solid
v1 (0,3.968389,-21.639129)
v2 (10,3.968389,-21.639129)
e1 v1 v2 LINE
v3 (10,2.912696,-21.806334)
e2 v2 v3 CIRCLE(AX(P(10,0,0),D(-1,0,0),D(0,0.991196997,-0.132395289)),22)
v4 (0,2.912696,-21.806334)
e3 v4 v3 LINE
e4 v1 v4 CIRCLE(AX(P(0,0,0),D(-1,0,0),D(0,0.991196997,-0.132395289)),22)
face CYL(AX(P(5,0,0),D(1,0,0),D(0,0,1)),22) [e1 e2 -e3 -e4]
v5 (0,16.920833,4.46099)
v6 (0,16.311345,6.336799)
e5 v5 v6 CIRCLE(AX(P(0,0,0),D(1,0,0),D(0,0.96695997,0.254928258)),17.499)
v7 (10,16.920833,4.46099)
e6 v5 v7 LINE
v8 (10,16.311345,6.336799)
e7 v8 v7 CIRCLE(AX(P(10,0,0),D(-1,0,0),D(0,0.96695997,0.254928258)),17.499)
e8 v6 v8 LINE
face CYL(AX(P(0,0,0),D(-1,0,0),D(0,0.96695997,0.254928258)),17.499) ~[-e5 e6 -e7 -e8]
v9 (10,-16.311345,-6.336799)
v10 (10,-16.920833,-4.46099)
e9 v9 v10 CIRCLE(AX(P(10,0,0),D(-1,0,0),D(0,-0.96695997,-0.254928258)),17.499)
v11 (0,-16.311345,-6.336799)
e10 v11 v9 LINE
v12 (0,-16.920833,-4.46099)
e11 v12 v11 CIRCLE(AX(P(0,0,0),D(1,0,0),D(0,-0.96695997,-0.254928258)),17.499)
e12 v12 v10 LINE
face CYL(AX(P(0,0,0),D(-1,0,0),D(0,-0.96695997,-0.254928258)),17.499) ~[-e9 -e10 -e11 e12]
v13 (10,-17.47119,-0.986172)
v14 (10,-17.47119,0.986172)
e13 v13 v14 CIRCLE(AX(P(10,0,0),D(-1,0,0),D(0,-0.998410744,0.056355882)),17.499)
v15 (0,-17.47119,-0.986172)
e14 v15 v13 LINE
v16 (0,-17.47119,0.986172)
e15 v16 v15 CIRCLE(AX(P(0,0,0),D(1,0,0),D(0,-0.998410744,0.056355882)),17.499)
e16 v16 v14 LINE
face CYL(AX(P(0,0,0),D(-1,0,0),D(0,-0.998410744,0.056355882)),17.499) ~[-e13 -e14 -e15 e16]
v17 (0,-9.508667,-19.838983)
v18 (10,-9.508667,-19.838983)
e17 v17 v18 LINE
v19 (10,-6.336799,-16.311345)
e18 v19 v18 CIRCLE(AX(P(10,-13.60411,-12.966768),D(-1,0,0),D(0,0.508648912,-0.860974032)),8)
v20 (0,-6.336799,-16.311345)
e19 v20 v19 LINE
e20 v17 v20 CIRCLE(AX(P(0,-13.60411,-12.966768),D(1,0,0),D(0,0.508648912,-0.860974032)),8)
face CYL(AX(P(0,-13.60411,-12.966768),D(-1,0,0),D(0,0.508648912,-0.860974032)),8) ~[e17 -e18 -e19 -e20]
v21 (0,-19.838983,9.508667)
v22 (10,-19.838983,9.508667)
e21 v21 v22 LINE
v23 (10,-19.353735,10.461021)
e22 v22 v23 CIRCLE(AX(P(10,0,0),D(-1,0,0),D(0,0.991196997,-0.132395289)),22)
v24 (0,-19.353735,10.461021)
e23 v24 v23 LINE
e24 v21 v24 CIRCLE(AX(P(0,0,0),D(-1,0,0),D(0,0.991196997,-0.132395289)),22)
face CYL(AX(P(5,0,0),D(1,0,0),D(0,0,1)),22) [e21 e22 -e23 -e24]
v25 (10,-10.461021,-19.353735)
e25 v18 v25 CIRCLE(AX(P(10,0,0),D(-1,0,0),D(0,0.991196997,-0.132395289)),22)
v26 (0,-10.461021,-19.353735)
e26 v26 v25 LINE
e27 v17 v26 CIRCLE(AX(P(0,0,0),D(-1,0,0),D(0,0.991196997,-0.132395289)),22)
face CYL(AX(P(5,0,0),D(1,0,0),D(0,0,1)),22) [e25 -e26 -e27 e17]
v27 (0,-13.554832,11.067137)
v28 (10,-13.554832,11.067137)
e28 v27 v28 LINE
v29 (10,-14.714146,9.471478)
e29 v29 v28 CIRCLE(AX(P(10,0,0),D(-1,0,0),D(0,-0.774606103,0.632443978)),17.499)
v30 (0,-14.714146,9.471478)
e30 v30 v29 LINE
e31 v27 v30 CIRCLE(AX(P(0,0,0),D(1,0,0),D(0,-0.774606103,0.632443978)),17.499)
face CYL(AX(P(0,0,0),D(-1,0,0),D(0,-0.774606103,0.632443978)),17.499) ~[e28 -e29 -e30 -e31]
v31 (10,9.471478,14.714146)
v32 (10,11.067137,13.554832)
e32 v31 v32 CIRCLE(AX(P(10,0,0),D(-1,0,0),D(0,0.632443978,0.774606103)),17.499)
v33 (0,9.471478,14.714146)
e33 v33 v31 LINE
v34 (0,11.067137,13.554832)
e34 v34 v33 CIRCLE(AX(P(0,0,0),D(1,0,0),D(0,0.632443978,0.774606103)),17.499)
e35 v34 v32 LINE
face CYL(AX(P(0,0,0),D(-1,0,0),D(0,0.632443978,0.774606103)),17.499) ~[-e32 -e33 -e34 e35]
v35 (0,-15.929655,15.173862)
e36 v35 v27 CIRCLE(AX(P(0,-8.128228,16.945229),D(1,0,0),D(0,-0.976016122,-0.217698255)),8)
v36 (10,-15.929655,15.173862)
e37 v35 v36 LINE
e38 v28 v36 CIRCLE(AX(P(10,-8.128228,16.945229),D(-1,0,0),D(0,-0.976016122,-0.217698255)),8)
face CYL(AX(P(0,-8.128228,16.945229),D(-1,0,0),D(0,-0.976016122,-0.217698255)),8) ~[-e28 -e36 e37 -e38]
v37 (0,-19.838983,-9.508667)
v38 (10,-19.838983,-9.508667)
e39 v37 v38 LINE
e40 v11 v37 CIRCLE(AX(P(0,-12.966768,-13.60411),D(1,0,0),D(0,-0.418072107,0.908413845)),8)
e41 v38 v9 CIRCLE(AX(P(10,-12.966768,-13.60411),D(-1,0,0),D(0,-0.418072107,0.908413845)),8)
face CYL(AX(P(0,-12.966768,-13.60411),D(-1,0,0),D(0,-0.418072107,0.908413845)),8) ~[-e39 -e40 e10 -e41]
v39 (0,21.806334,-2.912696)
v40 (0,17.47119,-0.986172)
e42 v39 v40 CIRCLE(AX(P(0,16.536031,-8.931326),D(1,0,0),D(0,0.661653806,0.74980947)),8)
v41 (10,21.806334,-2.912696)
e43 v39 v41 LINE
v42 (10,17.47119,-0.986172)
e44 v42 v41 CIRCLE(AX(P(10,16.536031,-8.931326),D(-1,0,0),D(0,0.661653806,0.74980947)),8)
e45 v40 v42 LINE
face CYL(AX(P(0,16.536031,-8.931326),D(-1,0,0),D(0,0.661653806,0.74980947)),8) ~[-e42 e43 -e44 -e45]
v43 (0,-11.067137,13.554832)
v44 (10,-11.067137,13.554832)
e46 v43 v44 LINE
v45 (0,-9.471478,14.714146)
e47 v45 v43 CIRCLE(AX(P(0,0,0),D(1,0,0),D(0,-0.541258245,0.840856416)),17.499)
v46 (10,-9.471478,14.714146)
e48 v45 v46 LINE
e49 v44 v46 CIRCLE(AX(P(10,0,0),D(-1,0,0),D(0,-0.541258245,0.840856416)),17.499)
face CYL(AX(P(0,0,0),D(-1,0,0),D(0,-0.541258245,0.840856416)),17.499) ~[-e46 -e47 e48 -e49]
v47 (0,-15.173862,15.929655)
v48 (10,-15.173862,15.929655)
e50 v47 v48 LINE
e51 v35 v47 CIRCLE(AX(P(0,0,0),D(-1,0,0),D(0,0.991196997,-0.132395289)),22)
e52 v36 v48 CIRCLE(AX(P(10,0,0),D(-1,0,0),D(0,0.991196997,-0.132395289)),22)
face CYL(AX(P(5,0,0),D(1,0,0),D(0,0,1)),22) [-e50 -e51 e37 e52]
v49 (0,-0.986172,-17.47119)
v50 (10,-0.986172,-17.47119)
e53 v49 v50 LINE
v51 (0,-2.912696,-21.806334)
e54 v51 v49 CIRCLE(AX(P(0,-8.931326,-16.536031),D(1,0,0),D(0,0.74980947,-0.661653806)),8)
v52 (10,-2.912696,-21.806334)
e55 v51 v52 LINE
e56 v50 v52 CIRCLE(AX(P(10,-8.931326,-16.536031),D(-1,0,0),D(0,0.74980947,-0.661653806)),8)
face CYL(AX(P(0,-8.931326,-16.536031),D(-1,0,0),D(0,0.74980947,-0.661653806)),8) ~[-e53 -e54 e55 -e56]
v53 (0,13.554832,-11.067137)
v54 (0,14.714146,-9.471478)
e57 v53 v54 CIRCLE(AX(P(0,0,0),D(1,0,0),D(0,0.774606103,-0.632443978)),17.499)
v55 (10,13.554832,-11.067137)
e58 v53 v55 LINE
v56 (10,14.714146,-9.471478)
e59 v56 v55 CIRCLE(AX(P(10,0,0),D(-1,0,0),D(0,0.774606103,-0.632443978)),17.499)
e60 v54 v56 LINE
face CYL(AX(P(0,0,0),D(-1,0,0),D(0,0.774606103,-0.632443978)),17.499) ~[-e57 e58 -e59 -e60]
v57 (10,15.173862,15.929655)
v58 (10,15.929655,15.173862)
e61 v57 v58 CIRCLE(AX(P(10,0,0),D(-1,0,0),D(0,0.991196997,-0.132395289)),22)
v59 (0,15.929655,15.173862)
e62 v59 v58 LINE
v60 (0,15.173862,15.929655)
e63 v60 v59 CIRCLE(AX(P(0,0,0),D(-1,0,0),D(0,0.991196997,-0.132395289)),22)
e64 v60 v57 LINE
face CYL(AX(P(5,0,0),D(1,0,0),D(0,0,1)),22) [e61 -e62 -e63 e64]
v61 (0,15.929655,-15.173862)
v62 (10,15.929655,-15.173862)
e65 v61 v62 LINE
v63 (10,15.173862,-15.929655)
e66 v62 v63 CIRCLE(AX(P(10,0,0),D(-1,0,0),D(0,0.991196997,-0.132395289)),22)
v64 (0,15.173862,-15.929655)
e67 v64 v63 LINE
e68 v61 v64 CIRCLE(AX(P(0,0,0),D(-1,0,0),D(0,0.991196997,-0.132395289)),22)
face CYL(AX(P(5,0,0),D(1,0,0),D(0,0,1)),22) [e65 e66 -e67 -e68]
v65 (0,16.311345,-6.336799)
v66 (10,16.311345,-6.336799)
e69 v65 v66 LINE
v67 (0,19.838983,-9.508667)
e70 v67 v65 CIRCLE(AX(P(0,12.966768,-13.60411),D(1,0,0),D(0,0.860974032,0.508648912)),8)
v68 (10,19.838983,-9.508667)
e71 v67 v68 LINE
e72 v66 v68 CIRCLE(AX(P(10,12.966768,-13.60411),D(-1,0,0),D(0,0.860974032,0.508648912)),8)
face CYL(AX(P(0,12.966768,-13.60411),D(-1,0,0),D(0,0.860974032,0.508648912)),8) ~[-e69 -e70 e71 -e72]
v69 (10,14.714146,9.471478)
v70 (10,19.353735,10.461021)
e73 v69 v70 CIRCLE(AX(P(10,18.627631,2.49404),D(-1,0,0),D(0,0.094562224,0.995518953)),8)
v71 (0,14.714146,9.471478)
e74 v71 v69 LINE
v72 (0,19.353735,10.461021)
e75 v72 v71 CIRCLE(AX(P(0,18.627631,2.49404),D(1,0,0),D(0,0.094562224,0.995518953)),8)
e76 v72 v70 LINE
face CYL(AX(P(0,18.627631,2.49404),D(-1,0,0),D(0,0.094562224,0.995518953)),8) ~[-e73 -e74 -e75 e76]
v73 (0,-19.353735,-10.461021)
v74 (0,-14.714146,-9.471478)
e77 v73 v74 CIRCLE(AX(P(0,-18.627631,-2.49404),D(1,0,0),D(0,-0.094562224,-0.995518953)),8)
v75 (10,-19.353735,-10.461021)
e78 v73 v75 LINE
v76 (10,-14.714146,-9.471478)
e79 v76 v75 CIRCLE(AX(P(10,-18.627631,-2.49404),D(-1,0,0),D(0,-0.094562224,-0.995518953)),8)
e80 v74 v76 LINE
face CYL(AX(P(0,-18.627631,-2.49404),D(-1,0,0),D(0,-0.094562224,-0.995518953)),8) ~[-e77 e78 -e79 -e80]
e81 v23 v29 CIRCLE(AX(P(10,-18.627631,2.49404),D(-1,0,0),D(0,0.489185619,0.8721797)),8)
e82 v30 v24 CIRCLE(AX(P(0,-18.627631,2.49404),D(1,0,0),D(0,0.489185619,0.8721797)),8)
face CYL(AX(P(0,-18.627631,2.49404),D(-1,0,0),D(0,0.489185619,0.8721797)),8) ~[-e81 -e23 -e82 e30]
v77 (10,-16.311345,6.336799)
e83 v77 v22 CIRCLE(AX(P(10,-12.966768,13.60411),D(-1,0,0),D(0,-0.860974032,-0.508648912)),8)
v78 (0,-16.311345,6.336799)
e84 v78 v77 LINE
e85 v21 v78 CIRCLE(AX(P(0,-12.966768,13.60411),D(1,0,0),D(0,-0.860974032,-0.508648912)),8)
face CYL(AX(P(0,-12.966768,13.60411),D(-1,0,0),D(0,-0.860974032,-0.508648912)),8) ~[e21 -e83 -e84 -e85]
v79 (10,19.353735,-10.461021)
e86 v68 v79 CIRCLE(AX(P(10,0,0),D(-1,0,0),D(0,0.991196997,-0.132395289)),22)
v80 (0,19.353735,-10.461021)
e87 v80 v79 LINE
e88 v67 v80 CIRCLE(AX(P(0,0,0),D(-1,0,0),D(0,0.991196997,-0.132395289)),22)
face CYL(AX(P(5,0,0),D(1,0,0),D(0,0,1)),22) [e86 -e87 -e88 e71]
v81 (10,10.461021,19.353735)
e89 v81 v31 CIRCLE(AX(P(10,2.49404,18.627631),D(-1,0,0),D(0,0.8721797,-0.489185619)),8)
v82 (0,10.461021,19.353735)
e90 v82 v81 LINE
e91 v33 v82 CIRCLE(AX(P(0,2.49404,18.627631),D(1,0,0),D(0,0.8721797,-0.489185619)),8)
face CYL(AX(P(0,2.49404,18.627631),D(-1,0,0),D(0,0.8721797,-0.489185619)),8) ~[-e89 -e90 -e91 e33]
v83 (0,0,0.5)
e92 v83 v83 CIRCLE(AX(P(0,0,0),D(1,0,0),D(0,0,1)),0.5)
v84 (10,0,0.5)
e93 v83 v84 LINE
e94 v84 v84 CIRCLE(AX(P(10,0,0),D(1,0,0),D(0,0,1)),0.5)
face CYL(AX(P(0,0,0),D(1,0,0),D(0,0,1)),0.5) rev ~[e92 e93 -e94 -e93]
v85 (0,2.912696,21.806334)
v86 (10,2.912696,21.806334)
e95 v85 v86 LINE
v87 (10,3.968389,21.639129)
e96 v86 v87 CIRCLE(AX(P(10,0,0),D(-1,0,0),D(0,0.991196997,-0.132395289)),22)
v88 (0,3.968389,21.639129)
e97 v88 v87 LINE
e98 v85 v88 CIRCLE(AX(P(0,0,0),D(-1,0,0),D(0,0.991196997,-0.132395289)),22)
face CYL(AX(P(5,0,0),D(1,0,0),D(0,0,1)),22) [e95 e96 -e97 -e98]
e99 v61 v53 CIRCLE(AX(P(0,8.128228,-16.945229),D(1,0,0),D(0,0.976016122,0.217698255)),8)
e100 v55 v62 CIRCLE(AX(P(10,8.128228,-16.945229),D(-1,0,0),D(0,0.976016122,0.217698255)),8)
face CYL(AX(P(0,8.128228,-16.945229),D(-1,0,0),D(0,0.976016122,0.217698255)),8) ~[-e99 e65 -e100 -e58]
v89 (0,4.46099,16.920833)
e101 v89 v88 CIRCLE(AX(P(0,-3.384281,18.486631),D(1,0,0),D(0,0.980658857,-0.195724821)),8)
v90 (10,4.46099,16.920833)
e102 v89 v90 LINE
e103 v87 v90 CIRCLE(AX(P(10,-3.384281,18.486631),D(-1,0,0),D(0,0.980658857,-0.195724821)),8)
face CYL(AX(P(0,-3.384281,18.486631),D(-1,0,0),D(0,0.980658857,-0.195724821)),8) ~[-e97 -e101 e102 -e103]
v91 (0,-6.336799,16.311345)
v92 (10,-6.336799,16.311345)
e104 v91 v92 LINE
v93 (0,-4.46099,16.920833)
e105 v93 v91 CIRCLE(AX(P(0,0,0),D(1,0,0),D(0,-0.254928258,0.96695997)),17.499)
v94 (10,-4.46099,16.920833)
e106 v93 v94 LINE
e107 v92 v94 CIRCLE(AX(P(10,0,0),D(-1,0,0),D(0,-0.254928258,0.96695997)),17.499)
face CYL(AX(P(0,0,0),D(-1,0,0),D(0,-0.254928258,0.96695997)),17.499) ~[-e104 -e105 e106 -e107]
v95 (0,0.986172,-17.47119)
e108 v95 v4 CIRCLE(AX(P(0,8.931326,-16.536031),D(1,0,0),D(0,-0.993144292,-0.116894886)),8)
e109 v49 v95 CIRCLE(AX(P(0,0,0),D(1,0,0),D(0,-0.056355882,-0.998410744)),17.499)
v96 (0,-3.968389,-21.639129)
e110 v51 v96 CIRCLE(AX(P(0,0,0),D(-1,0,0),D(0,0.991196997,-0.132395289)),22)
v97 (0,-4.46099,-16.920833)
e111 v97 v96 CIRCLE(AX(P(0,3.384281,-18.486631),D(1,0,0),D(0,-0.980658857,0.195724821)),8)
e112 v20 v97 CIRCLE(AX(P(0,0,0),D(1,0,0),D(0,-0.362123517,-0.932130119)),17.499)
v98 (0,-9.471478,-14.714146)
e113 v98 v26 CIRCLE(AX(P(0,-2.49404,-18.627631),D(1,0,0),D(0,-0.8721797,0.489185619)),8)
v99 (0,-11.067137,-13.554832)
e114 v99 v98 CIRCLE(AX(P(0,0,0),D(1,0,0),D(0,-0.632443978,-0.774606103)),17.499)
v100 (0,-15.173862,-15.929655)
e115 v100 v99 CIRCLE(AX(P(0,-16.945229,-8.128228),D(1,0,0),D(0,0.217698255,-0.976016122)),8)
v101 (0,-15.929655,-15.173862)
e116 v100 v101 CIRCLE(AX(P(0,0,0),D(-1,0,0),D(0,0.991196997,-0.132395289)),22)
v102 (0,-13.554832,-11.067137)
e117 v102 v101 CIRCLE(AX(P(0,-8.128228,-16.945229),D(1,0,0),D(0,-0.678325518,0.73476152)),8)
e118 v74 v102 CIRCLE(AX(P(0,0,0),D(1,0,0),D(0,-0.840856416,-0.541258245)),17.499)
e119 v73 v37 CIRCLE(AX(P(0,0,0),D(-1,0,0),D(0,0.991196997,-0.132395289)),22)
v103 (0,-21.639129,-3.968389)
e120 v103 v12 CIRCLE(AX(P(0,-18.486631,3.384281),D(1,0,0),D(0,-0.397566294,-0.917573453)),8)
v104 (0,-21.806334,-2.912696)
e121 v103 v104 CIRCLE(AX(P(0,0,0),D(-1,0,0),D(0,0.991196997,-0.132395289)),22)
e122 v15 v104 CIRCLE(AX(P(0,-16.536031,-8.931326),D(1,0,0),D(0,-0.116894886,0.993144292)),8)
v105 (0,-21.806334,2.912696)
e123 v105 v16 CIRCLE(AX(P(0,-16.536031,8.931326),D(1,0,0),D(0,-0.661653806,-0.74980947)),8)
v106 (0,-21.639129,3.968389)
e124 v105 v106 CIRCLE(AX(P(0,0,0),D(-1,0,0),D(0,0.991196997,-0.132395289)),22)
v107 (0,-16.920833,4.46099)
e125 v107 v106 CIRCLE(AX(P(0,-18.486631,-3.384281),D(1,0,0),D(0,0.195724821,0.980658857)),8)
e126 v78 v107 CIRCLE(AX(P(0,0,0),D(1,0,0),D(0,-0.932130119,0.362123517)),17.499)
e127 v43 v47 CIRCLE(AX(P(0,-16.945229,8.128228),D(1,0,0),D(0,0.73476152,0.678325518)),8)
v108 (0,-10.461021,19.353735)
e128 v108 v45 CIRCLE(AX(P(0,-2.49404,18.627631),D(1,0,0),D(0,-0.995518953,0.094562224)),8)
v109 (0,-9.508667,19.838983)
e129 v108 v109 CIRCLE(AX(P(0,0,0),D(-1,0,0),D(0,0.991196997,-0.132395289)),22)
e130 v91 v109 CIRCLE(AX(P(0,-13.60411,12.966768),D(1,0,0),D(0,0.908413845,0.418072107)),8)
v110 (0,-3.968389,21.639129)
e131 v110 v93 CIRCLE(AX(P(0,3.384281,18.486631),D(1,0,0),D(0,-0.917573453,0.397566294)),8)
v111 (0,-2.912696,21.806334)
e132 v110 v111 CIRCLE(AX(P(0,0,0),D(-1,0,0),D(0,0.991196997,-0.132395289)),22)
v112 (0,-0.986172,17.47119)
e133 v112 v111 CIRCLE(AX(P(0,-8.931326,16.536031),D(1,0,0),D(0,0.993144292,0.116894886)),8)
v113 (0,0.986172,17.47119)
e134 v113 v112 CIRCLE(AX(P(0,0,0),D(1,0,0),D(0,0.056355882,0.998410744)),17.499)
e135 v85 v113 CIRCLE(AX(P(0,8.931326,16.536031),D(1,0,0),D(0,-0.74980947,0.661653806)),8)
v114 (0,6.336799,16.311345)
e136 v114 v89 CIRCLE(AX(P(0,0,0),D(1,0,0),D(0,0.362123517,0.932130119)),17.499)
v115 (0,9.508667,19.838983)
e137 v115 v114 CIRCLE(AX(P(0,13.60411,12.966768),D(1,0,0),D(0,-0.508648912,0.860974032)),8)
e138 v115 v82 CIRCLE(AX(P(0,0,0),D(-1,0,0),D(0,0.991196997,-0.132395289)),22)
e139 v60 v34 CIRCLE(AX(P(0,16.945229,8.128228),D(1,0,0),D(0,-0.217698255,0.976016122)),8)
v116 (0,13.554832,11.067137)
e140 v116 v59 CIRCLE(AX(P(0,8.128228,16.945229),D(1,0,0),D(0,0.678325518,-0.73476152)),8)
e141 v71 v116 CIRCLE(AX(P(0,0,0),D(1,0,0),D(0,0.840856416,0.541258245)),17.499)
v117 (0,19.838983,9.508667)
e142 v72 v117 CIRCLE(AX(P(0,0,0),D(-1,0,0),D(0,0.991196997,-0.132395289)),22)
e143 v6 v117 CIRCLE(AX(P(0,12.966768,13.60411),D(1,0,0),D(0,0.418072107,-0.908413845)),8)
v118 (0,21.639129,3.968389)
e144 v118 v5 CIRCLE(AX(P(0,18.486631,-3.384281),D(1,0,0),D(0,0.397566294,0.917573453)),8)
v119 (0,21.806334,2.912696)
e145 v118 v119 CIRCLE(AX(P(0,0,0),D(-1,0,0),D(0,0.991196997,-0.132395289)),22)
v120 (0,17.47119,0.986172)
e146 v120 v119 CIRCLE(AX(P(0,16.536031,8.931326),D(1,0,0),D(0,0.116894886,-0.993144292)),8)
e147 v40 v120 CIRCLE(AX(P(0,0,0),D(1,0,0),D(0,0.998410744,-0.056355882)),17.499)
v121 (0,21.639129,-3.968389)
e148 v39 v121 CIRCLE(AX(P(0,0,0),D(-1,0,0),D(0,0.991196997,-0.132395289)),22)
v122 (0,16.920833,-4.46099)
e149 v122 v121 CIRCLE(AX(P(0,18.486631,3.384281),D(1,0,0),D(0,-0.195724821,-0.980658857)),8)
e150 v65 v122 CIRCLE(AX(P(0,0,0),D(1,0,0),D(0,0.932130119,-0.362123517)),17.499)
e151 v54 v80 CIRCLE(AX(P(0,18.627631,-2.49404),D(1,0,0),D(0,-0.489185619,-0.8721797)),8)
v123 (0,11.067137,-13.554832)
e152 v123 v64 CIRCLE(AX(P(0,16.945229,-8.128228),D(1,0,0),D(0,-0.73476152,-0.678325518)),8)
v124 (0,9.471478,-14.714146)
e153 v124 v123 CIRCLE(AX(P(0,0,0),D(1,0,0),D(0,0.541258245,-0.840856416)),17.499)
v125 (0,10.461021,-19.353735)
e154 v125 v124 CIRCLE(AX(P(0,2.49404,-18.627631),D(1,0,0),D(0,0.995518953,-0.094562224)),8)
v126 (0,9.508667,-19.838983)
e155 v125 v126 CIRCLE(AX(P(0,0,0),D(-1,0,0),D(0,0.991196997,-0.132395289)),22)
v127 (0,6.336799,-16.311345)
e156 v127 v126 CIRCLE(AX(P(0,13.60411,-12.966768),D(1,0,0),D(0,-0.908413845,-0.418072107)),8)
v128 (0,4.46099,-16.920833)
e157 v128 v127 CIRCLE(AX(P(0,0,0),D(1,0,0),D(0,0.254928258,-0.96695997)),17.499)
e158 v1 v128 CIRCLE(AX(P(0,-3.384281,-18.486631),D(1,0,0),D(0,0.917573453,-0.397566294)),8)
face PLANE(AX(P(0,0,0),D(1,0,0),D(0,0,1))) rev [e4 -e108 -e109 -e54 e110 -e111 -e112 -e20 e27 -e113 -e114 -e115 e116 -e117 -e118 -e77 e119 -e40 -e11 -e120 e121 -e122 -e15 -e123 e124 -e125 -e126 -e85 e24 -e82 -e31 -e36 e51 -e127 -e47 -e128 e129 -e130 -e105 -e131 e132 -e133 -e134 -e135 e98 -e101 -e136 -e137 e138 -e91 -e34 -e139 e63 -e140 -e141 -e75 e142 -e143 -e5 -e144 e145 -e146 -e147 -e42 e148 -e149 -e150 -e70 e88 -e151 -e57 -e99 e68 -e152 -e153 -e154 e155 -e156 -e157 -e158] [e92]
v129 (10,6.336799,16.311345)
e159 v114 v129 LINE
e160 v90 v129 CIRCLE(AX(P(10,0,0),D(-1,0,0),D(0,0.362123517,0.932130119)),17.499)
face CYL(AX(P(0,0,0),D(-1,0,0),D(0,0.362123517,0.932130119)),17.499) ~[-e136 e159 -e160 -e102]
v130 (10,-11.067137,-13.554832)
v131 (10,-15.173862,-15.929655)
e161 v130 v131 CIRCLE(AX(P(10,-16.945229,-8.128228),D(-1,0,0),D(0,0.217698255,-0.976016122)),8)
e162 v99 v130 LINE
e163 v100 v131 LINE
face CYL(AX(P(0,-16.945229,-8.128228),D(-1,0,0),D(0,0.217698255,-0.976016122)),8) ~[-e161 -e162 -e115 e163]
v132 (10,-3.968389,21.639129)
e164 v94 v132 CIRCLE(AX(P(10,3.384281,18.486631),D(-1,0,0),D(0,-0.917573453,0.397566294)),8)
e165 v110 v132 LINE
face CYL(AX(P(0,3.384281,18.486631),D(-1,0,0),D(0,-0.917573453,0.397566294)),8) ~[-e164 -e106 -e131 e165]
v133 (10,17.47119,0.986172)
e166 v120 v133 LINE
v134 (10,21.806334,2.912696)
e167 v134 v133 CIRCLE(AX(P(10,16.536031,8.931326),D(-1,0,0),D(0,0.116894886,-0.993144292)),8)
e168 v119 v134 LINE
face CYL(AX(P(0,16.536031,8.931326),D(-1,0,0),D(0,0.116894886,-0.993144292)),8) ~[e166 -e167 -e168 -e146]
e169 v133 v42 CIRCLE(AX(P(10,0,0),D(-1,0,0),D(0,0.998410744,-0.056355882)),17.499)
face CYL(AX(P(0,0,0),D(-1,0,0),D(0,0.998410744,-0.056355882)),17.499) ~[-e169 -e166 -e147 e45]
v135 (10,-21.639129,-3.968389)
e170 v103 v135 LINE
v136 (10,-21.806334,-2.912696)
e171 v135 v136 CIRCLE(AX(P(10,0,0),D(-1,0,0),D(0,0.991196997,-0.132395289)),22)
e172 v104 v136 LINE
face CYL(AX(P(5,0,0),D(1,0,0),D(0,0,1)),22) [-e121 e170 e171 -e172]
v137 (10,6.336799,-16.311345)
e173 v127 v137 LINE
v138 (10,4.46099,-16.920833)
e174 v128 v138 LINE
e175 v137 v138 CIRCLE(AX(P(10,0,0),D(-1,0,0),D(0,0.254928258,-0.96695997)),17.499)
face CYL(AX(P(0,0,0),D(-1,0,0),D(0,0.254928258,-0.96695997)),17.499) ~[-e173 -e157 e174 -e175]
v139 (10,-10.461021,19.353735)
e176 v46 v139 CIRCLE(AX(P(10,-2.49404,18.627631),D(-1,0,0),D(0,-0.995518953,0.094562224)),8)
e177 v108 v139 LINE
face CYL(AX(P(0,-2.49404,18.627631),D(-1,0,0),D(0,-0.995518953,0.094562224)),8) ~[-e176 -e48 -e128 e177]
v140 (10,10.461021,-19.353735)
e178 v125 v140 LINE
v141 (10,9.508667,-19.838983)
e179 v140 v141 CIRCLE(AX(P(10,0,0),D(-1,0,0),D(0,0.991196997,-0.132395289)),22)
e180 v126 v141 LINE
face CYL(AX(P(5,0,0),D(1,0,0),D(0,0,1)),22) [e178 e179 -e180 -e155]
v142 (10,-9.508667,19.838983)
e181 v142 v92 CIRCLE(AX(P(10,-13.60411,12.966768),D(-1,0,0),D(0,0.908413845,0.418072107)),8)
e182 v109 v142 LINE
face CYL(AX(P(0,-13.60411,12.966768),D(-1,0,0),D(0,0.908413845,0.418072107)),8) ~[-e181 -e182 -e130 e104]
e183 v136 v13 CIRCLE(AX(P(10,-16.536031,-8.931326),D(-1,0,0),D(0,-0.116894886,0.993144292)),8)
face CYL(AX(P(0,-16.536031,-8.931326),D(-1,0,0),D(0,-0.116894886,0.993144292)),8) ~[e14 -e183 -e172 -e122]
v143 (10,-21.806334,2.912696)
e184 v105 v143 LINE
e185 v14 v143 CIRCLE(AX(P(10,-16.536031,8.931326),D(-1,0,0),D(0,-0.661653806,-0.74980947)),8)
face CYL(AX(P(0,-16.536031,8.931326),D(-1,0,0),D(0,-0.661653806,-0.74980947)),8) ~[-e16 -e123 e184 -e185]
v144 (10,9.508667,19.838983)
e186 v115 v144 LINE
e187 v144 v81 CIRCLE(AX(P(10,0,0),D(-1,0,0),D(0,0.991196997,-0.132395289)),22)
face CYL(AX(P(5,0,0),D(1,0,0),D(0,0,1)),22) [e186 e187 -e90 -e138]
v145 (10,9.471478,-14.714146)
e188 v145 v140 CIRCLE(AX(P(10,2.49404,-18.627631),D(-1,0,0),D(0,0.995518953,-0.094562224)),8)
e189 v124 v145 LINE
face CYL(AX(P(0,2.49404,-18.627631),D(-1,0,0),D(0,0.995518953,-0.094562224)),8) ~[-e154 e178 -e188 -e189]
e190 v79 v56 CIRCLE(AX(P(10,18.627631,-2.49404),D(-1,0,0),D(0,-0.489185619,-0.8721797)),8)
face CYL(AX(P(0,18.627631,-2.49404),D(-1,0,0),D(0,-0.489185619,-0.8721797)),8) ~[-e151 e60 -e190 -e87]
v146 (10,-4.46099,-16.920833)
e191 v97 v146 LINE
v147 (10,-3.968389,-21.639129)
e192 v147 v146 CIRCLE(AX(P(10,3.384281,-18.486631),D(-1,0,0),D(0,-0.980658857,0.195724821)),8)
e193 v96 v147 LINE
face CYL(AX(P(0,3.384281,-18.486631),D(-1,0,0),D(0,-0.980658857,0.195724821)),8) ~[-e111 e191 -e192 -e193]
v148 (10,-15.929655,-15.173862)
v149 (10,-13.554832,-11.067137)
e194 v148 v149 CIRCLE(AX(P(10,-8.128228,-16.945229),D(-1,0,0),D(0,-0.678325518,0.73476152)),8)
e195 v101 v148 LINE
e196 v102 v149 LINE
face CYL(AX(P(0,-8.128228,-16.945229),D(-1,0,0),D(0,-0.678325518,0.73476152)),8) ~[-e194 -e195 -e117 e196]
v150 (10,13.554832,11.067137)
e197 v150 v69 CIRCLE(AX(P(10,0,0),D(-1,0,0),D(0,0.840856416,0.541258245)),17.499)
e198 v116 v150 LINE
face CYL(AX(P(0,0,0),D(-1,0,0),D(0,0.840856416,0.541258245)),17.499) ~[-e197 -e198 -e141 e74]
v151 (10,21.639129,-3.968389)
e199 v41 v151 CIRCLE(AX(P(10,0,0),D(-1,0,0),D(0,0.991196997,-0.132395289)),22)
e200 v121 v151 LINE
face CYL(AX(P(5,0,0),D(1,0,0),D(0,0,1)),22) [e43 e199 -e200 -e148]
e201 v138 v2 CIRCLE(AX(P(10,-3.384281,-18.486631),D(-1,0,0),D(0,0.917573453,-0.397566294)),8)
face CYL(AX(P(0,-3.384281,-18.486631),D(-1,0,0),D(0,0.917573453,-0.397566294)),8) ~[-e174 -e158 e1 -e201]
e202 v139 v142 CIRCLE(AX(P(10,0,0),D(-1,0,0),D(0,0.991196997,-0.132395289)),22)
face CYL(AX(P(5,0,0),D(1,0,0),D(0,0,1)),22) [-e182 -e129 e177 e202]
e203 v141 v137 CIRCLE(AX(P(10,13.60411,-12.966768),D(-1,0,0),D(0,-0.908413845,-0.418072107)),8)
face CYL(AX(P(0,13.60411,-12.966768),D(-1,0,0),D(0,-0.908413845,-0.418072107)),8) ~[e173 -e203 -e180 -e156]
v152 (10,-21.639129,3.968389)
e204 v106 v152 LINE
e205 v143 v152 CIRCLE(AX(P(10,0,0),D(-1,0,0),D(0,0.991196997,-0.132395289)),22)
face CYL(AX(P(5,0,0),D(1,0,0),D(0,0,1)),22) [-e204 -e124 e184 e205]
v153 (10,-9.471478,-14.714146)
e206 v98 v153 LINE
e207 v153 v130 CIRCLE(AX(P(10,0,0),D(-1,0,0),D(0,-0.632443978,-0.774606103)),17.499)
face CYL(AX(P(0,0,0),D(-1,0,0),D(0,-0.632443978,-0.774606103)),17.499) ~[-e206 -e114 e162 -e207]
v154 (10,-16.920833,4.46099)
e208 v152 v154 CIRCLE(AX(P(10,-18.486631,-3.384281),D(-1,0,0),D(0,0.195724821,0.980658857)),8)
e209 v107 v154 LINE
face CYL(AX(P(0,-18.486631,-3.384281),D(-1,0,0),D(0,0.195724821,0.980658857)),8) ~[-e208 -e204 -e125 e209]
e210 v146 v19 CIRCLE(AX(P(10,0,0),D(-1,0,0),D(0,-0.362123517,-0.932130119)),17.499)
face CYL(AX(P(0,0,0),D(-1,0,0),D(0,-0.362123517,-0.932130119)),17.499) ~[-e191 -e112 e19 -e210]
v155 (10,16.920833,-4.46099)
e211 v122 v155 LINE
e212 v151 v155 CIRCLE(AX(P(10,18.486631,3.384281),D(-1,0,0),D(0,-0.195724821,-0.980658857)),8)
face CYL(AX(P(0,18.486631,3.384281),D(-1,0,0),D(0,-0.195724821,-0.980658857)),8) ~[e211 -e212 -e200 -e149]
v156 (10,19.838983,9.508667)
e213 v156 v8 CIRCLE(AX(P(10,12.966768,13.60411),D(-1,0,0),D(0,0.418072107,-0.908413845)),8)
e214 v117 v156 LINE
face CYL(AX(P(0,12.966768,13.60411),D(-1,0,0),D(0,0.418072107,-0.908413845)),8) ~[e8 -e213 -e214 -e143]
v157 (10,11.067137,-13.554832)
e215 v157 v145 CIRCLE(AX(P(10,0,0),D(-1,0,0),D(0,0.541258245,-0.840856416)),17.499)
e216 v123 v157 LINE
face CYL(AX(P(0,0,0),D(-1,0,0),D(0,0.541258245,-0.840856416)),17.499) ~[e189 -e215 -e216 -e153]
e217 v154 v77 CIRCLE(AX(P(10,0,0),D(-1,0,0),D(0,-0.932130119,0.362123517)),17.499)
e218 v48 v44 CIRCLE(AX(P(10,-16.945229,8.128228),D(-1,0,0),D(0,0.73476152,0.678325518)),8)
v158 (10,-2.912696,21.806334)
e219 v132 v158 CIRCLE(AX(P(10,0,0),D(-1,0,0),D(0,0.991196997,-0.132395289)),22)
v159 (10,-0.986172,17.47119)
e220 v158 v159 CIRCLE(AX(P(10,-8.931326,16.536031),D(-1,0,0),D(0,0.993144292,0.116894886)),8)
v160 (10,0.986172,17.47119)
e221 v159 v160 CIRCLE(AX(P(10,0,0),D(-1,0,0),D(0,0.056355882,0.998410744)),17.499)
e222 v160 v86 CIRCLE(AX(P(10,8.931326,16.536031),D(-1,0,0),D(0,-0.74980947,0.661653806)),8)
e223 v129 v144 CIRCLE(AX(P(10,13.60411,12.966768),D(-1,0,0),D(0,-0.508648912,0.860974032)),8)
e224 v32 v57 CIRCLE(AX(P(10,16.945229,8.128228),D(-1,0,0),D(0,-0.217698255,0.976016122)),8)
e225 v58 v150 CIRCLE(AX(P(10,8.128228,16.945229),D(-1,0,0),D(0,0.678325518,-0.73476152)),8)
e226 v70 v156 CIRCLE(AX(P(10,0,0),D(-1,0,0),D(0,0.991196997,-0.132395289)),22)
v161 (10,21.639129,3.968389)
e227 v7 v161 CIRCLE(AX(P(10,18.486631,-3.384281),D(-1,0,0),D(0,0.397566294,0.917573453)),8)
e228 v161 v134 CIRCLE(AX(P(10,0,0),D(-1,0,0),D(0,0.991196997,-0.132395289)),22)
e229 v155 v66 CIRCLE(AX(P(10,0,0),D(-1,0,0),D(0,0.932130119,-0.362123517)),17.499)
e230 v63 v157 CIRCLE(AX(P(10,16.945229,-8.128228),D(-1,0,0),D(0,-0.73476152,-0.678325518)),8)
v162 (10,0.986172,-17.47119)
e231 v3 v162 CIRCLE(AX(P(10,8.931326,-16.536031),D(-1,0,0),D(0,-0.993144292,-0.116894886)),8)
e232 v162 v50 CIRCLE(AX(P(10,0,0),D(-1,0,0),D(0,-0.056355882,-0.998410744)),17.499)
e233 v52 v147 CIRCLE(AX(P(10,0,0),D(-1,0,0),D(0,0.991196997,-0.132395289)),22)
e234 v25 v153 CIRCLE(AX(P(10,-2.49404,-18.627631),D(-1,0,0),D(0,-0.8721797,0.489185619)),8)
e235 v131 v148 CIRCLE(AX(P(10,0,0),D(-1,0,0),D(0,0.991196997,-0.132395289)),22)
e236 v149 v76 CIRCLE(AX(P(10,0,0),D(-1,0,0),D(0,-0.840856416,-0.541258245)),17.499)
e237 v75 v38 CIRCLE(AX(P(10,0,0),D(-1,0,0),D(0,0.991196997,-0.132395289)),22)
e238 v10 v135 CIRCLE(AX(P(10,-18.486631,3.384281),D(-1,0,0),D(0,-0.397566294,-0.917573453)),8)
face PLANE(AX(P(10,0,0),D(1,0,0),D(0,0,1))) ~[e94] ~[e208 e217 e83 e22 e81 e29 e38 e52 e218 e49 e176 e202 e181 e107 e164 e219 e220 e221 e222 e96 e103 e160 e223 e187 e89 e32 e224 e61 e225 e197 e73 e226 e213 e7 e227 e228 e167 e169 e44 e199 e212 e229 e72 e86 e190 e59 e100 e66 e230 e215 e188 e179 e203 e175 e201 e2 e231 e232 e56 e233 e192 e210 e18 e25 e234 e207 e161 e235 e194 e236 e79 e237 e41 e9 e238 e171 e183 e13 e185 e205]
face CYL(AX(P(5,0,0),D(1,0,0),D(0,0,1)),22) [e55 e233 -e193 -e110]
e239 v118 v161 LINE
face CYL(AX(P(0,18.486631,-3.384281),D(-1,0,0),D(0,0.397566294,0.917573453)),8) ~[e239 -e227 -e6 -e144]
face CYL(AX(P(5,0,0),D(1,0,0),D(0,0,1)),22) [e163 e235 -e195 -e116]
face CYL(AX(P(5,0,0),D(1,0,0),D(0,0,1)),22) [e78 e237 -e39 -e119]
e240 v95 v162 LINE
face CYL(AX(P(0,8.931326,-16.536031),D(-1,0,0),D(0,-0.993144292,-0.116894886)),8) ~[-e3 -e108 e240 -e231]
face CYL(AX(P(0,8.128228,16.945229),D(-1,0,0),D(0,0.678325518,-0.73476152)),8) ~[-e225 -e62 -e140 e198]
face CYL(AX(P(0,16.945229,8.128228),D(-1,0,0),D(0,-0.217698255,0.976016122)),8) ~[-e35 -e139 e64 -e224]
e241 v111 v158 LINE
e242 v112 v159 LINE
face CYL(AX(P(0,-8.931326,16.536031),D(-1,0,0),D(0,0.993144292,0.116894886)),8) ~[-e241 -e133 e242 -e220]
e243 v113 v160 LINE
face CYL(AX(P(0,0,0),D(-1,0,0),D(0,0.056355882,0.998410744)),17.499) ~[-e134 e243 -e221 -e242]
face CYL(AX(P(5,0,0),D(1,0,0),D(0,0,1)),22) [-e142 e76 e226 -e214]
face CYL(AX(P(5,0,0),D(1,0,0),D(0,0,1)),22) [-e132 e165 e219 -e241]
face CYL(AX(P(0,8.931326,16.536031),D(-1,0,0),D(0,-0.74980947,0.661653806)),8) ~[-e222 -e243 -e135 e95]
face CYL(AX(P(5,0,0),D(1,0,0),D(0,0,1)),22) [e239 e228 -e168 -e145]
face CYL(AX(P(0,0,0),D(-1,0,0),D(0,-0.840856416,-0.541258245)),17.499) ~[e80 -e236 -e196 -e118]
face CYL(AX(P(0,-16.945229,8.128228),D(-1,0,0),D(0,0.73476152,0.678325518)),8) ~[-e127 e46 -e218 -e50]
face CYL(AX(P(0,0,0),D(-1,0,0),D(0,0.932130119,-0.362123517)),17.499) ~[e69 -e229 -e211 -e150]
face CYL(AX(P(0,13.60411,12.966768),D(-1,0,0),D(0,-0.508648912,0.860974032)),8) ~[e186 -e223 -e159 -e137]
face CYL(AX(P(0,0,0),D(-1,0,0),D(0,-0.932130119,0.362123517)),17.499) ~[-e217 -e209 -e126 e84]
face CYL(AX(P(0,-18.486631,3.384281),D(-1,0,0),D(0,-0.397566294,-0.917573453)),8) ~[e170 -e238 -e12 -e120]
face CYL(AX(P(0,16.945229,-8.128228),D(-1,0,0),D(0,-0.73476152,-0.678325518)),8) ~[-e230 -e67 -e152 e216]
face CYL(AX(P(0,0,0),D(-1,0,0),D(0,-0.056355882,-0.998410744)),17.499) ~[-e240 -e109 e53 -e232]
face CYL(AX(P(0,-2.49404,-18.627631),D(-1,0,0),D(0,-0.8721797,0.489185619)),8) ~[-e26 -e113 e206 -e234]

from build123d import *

# Parameters (mm, degrees)
BASPROSKE_W     = 10
BASPROSKE_H     = 22
TOOTHCUT_DEPTH  = 33.680269277
TEETHCUTS_COUNT = 20
TEETHCUTS_ANGLE = 342
BORSKE_R        = 0.5
BORE_DEPTH      = 50.0000508


with BuildPart() as part:
    # BasProSke → Base-Revolve (revolve)
    with BuildSketch(Plane(origin=(0, 0, 0), x_dir=(1, 0, 0), z_dir=(0, 1, 0)), mode=Mode.PRIVATE) as base_revolve_sk:
        with Locations((5, 11)):
            Rectangle(BASPROSKE_W, BASPROSKE_H)
    revolve(base_revolve_sk.sketch.rotate(Axis((-10, 0, 0), (1, 0, 0)), 180), axis=Axis((-10, 0, 0), (1, 0, 0)))

    # TooCutSke → ToothCut (cut, through all)
    with BuildSketch(Plane(origin=(0, 0, 0), x_dir=(0, 0, -1), z_dir=(1, 0, 0))):
        with BuildLine():
            ThreePointArc((0.986171591, 17.471189616), (0, 17.499), (-0.986171591, 17.471189616))
            ThreePointArc((-0.986171591, 17.471189616), (-1.626916196, 19.798789858), (-2.932850173, 21.829260982))
            ThreePointArc((-2.932850173, 21.829260982), (0, 22.0254), (2.932850173, 21.829260982))
            ThreePointArc((2.932850173, 21.829260982), (1.626916196, 19.798789858), (0.986171591, 17.471189616))
        make_face()
    toothcut = extrude(amount=TOOTHCUT_DEPTH, mode=Mode.SUBTRACT)

    # TeethCuts: ToothCut ×20 about axis
    teethcuts_axis = Axis((-10, 0, 0), (1, 0, 0))
    for i in range(1, TEETHCUTS_COUNT):
        add(toothcut.rotate(teethcuts_axis, i * TEETHCUTS_ANGLE / (TEETHCUTS_COUNT - 1)), mode=Mode.SUBTRACT)

    # BorSke → Bore (cut, symmetric)
    with BuildSketch(Plane(origin=(0, 0, 0), x_dir=(0, 0, -1), z_dir=(1, 0, 0))):
        with Locations(Location((0, 0, 0), (0, 0, 180))):
            Circle(BORSKE_R)
    extrude(amount=BORE_DEPTH, both=True, mode=Mode.SUBTRACT)


solid = part.part
